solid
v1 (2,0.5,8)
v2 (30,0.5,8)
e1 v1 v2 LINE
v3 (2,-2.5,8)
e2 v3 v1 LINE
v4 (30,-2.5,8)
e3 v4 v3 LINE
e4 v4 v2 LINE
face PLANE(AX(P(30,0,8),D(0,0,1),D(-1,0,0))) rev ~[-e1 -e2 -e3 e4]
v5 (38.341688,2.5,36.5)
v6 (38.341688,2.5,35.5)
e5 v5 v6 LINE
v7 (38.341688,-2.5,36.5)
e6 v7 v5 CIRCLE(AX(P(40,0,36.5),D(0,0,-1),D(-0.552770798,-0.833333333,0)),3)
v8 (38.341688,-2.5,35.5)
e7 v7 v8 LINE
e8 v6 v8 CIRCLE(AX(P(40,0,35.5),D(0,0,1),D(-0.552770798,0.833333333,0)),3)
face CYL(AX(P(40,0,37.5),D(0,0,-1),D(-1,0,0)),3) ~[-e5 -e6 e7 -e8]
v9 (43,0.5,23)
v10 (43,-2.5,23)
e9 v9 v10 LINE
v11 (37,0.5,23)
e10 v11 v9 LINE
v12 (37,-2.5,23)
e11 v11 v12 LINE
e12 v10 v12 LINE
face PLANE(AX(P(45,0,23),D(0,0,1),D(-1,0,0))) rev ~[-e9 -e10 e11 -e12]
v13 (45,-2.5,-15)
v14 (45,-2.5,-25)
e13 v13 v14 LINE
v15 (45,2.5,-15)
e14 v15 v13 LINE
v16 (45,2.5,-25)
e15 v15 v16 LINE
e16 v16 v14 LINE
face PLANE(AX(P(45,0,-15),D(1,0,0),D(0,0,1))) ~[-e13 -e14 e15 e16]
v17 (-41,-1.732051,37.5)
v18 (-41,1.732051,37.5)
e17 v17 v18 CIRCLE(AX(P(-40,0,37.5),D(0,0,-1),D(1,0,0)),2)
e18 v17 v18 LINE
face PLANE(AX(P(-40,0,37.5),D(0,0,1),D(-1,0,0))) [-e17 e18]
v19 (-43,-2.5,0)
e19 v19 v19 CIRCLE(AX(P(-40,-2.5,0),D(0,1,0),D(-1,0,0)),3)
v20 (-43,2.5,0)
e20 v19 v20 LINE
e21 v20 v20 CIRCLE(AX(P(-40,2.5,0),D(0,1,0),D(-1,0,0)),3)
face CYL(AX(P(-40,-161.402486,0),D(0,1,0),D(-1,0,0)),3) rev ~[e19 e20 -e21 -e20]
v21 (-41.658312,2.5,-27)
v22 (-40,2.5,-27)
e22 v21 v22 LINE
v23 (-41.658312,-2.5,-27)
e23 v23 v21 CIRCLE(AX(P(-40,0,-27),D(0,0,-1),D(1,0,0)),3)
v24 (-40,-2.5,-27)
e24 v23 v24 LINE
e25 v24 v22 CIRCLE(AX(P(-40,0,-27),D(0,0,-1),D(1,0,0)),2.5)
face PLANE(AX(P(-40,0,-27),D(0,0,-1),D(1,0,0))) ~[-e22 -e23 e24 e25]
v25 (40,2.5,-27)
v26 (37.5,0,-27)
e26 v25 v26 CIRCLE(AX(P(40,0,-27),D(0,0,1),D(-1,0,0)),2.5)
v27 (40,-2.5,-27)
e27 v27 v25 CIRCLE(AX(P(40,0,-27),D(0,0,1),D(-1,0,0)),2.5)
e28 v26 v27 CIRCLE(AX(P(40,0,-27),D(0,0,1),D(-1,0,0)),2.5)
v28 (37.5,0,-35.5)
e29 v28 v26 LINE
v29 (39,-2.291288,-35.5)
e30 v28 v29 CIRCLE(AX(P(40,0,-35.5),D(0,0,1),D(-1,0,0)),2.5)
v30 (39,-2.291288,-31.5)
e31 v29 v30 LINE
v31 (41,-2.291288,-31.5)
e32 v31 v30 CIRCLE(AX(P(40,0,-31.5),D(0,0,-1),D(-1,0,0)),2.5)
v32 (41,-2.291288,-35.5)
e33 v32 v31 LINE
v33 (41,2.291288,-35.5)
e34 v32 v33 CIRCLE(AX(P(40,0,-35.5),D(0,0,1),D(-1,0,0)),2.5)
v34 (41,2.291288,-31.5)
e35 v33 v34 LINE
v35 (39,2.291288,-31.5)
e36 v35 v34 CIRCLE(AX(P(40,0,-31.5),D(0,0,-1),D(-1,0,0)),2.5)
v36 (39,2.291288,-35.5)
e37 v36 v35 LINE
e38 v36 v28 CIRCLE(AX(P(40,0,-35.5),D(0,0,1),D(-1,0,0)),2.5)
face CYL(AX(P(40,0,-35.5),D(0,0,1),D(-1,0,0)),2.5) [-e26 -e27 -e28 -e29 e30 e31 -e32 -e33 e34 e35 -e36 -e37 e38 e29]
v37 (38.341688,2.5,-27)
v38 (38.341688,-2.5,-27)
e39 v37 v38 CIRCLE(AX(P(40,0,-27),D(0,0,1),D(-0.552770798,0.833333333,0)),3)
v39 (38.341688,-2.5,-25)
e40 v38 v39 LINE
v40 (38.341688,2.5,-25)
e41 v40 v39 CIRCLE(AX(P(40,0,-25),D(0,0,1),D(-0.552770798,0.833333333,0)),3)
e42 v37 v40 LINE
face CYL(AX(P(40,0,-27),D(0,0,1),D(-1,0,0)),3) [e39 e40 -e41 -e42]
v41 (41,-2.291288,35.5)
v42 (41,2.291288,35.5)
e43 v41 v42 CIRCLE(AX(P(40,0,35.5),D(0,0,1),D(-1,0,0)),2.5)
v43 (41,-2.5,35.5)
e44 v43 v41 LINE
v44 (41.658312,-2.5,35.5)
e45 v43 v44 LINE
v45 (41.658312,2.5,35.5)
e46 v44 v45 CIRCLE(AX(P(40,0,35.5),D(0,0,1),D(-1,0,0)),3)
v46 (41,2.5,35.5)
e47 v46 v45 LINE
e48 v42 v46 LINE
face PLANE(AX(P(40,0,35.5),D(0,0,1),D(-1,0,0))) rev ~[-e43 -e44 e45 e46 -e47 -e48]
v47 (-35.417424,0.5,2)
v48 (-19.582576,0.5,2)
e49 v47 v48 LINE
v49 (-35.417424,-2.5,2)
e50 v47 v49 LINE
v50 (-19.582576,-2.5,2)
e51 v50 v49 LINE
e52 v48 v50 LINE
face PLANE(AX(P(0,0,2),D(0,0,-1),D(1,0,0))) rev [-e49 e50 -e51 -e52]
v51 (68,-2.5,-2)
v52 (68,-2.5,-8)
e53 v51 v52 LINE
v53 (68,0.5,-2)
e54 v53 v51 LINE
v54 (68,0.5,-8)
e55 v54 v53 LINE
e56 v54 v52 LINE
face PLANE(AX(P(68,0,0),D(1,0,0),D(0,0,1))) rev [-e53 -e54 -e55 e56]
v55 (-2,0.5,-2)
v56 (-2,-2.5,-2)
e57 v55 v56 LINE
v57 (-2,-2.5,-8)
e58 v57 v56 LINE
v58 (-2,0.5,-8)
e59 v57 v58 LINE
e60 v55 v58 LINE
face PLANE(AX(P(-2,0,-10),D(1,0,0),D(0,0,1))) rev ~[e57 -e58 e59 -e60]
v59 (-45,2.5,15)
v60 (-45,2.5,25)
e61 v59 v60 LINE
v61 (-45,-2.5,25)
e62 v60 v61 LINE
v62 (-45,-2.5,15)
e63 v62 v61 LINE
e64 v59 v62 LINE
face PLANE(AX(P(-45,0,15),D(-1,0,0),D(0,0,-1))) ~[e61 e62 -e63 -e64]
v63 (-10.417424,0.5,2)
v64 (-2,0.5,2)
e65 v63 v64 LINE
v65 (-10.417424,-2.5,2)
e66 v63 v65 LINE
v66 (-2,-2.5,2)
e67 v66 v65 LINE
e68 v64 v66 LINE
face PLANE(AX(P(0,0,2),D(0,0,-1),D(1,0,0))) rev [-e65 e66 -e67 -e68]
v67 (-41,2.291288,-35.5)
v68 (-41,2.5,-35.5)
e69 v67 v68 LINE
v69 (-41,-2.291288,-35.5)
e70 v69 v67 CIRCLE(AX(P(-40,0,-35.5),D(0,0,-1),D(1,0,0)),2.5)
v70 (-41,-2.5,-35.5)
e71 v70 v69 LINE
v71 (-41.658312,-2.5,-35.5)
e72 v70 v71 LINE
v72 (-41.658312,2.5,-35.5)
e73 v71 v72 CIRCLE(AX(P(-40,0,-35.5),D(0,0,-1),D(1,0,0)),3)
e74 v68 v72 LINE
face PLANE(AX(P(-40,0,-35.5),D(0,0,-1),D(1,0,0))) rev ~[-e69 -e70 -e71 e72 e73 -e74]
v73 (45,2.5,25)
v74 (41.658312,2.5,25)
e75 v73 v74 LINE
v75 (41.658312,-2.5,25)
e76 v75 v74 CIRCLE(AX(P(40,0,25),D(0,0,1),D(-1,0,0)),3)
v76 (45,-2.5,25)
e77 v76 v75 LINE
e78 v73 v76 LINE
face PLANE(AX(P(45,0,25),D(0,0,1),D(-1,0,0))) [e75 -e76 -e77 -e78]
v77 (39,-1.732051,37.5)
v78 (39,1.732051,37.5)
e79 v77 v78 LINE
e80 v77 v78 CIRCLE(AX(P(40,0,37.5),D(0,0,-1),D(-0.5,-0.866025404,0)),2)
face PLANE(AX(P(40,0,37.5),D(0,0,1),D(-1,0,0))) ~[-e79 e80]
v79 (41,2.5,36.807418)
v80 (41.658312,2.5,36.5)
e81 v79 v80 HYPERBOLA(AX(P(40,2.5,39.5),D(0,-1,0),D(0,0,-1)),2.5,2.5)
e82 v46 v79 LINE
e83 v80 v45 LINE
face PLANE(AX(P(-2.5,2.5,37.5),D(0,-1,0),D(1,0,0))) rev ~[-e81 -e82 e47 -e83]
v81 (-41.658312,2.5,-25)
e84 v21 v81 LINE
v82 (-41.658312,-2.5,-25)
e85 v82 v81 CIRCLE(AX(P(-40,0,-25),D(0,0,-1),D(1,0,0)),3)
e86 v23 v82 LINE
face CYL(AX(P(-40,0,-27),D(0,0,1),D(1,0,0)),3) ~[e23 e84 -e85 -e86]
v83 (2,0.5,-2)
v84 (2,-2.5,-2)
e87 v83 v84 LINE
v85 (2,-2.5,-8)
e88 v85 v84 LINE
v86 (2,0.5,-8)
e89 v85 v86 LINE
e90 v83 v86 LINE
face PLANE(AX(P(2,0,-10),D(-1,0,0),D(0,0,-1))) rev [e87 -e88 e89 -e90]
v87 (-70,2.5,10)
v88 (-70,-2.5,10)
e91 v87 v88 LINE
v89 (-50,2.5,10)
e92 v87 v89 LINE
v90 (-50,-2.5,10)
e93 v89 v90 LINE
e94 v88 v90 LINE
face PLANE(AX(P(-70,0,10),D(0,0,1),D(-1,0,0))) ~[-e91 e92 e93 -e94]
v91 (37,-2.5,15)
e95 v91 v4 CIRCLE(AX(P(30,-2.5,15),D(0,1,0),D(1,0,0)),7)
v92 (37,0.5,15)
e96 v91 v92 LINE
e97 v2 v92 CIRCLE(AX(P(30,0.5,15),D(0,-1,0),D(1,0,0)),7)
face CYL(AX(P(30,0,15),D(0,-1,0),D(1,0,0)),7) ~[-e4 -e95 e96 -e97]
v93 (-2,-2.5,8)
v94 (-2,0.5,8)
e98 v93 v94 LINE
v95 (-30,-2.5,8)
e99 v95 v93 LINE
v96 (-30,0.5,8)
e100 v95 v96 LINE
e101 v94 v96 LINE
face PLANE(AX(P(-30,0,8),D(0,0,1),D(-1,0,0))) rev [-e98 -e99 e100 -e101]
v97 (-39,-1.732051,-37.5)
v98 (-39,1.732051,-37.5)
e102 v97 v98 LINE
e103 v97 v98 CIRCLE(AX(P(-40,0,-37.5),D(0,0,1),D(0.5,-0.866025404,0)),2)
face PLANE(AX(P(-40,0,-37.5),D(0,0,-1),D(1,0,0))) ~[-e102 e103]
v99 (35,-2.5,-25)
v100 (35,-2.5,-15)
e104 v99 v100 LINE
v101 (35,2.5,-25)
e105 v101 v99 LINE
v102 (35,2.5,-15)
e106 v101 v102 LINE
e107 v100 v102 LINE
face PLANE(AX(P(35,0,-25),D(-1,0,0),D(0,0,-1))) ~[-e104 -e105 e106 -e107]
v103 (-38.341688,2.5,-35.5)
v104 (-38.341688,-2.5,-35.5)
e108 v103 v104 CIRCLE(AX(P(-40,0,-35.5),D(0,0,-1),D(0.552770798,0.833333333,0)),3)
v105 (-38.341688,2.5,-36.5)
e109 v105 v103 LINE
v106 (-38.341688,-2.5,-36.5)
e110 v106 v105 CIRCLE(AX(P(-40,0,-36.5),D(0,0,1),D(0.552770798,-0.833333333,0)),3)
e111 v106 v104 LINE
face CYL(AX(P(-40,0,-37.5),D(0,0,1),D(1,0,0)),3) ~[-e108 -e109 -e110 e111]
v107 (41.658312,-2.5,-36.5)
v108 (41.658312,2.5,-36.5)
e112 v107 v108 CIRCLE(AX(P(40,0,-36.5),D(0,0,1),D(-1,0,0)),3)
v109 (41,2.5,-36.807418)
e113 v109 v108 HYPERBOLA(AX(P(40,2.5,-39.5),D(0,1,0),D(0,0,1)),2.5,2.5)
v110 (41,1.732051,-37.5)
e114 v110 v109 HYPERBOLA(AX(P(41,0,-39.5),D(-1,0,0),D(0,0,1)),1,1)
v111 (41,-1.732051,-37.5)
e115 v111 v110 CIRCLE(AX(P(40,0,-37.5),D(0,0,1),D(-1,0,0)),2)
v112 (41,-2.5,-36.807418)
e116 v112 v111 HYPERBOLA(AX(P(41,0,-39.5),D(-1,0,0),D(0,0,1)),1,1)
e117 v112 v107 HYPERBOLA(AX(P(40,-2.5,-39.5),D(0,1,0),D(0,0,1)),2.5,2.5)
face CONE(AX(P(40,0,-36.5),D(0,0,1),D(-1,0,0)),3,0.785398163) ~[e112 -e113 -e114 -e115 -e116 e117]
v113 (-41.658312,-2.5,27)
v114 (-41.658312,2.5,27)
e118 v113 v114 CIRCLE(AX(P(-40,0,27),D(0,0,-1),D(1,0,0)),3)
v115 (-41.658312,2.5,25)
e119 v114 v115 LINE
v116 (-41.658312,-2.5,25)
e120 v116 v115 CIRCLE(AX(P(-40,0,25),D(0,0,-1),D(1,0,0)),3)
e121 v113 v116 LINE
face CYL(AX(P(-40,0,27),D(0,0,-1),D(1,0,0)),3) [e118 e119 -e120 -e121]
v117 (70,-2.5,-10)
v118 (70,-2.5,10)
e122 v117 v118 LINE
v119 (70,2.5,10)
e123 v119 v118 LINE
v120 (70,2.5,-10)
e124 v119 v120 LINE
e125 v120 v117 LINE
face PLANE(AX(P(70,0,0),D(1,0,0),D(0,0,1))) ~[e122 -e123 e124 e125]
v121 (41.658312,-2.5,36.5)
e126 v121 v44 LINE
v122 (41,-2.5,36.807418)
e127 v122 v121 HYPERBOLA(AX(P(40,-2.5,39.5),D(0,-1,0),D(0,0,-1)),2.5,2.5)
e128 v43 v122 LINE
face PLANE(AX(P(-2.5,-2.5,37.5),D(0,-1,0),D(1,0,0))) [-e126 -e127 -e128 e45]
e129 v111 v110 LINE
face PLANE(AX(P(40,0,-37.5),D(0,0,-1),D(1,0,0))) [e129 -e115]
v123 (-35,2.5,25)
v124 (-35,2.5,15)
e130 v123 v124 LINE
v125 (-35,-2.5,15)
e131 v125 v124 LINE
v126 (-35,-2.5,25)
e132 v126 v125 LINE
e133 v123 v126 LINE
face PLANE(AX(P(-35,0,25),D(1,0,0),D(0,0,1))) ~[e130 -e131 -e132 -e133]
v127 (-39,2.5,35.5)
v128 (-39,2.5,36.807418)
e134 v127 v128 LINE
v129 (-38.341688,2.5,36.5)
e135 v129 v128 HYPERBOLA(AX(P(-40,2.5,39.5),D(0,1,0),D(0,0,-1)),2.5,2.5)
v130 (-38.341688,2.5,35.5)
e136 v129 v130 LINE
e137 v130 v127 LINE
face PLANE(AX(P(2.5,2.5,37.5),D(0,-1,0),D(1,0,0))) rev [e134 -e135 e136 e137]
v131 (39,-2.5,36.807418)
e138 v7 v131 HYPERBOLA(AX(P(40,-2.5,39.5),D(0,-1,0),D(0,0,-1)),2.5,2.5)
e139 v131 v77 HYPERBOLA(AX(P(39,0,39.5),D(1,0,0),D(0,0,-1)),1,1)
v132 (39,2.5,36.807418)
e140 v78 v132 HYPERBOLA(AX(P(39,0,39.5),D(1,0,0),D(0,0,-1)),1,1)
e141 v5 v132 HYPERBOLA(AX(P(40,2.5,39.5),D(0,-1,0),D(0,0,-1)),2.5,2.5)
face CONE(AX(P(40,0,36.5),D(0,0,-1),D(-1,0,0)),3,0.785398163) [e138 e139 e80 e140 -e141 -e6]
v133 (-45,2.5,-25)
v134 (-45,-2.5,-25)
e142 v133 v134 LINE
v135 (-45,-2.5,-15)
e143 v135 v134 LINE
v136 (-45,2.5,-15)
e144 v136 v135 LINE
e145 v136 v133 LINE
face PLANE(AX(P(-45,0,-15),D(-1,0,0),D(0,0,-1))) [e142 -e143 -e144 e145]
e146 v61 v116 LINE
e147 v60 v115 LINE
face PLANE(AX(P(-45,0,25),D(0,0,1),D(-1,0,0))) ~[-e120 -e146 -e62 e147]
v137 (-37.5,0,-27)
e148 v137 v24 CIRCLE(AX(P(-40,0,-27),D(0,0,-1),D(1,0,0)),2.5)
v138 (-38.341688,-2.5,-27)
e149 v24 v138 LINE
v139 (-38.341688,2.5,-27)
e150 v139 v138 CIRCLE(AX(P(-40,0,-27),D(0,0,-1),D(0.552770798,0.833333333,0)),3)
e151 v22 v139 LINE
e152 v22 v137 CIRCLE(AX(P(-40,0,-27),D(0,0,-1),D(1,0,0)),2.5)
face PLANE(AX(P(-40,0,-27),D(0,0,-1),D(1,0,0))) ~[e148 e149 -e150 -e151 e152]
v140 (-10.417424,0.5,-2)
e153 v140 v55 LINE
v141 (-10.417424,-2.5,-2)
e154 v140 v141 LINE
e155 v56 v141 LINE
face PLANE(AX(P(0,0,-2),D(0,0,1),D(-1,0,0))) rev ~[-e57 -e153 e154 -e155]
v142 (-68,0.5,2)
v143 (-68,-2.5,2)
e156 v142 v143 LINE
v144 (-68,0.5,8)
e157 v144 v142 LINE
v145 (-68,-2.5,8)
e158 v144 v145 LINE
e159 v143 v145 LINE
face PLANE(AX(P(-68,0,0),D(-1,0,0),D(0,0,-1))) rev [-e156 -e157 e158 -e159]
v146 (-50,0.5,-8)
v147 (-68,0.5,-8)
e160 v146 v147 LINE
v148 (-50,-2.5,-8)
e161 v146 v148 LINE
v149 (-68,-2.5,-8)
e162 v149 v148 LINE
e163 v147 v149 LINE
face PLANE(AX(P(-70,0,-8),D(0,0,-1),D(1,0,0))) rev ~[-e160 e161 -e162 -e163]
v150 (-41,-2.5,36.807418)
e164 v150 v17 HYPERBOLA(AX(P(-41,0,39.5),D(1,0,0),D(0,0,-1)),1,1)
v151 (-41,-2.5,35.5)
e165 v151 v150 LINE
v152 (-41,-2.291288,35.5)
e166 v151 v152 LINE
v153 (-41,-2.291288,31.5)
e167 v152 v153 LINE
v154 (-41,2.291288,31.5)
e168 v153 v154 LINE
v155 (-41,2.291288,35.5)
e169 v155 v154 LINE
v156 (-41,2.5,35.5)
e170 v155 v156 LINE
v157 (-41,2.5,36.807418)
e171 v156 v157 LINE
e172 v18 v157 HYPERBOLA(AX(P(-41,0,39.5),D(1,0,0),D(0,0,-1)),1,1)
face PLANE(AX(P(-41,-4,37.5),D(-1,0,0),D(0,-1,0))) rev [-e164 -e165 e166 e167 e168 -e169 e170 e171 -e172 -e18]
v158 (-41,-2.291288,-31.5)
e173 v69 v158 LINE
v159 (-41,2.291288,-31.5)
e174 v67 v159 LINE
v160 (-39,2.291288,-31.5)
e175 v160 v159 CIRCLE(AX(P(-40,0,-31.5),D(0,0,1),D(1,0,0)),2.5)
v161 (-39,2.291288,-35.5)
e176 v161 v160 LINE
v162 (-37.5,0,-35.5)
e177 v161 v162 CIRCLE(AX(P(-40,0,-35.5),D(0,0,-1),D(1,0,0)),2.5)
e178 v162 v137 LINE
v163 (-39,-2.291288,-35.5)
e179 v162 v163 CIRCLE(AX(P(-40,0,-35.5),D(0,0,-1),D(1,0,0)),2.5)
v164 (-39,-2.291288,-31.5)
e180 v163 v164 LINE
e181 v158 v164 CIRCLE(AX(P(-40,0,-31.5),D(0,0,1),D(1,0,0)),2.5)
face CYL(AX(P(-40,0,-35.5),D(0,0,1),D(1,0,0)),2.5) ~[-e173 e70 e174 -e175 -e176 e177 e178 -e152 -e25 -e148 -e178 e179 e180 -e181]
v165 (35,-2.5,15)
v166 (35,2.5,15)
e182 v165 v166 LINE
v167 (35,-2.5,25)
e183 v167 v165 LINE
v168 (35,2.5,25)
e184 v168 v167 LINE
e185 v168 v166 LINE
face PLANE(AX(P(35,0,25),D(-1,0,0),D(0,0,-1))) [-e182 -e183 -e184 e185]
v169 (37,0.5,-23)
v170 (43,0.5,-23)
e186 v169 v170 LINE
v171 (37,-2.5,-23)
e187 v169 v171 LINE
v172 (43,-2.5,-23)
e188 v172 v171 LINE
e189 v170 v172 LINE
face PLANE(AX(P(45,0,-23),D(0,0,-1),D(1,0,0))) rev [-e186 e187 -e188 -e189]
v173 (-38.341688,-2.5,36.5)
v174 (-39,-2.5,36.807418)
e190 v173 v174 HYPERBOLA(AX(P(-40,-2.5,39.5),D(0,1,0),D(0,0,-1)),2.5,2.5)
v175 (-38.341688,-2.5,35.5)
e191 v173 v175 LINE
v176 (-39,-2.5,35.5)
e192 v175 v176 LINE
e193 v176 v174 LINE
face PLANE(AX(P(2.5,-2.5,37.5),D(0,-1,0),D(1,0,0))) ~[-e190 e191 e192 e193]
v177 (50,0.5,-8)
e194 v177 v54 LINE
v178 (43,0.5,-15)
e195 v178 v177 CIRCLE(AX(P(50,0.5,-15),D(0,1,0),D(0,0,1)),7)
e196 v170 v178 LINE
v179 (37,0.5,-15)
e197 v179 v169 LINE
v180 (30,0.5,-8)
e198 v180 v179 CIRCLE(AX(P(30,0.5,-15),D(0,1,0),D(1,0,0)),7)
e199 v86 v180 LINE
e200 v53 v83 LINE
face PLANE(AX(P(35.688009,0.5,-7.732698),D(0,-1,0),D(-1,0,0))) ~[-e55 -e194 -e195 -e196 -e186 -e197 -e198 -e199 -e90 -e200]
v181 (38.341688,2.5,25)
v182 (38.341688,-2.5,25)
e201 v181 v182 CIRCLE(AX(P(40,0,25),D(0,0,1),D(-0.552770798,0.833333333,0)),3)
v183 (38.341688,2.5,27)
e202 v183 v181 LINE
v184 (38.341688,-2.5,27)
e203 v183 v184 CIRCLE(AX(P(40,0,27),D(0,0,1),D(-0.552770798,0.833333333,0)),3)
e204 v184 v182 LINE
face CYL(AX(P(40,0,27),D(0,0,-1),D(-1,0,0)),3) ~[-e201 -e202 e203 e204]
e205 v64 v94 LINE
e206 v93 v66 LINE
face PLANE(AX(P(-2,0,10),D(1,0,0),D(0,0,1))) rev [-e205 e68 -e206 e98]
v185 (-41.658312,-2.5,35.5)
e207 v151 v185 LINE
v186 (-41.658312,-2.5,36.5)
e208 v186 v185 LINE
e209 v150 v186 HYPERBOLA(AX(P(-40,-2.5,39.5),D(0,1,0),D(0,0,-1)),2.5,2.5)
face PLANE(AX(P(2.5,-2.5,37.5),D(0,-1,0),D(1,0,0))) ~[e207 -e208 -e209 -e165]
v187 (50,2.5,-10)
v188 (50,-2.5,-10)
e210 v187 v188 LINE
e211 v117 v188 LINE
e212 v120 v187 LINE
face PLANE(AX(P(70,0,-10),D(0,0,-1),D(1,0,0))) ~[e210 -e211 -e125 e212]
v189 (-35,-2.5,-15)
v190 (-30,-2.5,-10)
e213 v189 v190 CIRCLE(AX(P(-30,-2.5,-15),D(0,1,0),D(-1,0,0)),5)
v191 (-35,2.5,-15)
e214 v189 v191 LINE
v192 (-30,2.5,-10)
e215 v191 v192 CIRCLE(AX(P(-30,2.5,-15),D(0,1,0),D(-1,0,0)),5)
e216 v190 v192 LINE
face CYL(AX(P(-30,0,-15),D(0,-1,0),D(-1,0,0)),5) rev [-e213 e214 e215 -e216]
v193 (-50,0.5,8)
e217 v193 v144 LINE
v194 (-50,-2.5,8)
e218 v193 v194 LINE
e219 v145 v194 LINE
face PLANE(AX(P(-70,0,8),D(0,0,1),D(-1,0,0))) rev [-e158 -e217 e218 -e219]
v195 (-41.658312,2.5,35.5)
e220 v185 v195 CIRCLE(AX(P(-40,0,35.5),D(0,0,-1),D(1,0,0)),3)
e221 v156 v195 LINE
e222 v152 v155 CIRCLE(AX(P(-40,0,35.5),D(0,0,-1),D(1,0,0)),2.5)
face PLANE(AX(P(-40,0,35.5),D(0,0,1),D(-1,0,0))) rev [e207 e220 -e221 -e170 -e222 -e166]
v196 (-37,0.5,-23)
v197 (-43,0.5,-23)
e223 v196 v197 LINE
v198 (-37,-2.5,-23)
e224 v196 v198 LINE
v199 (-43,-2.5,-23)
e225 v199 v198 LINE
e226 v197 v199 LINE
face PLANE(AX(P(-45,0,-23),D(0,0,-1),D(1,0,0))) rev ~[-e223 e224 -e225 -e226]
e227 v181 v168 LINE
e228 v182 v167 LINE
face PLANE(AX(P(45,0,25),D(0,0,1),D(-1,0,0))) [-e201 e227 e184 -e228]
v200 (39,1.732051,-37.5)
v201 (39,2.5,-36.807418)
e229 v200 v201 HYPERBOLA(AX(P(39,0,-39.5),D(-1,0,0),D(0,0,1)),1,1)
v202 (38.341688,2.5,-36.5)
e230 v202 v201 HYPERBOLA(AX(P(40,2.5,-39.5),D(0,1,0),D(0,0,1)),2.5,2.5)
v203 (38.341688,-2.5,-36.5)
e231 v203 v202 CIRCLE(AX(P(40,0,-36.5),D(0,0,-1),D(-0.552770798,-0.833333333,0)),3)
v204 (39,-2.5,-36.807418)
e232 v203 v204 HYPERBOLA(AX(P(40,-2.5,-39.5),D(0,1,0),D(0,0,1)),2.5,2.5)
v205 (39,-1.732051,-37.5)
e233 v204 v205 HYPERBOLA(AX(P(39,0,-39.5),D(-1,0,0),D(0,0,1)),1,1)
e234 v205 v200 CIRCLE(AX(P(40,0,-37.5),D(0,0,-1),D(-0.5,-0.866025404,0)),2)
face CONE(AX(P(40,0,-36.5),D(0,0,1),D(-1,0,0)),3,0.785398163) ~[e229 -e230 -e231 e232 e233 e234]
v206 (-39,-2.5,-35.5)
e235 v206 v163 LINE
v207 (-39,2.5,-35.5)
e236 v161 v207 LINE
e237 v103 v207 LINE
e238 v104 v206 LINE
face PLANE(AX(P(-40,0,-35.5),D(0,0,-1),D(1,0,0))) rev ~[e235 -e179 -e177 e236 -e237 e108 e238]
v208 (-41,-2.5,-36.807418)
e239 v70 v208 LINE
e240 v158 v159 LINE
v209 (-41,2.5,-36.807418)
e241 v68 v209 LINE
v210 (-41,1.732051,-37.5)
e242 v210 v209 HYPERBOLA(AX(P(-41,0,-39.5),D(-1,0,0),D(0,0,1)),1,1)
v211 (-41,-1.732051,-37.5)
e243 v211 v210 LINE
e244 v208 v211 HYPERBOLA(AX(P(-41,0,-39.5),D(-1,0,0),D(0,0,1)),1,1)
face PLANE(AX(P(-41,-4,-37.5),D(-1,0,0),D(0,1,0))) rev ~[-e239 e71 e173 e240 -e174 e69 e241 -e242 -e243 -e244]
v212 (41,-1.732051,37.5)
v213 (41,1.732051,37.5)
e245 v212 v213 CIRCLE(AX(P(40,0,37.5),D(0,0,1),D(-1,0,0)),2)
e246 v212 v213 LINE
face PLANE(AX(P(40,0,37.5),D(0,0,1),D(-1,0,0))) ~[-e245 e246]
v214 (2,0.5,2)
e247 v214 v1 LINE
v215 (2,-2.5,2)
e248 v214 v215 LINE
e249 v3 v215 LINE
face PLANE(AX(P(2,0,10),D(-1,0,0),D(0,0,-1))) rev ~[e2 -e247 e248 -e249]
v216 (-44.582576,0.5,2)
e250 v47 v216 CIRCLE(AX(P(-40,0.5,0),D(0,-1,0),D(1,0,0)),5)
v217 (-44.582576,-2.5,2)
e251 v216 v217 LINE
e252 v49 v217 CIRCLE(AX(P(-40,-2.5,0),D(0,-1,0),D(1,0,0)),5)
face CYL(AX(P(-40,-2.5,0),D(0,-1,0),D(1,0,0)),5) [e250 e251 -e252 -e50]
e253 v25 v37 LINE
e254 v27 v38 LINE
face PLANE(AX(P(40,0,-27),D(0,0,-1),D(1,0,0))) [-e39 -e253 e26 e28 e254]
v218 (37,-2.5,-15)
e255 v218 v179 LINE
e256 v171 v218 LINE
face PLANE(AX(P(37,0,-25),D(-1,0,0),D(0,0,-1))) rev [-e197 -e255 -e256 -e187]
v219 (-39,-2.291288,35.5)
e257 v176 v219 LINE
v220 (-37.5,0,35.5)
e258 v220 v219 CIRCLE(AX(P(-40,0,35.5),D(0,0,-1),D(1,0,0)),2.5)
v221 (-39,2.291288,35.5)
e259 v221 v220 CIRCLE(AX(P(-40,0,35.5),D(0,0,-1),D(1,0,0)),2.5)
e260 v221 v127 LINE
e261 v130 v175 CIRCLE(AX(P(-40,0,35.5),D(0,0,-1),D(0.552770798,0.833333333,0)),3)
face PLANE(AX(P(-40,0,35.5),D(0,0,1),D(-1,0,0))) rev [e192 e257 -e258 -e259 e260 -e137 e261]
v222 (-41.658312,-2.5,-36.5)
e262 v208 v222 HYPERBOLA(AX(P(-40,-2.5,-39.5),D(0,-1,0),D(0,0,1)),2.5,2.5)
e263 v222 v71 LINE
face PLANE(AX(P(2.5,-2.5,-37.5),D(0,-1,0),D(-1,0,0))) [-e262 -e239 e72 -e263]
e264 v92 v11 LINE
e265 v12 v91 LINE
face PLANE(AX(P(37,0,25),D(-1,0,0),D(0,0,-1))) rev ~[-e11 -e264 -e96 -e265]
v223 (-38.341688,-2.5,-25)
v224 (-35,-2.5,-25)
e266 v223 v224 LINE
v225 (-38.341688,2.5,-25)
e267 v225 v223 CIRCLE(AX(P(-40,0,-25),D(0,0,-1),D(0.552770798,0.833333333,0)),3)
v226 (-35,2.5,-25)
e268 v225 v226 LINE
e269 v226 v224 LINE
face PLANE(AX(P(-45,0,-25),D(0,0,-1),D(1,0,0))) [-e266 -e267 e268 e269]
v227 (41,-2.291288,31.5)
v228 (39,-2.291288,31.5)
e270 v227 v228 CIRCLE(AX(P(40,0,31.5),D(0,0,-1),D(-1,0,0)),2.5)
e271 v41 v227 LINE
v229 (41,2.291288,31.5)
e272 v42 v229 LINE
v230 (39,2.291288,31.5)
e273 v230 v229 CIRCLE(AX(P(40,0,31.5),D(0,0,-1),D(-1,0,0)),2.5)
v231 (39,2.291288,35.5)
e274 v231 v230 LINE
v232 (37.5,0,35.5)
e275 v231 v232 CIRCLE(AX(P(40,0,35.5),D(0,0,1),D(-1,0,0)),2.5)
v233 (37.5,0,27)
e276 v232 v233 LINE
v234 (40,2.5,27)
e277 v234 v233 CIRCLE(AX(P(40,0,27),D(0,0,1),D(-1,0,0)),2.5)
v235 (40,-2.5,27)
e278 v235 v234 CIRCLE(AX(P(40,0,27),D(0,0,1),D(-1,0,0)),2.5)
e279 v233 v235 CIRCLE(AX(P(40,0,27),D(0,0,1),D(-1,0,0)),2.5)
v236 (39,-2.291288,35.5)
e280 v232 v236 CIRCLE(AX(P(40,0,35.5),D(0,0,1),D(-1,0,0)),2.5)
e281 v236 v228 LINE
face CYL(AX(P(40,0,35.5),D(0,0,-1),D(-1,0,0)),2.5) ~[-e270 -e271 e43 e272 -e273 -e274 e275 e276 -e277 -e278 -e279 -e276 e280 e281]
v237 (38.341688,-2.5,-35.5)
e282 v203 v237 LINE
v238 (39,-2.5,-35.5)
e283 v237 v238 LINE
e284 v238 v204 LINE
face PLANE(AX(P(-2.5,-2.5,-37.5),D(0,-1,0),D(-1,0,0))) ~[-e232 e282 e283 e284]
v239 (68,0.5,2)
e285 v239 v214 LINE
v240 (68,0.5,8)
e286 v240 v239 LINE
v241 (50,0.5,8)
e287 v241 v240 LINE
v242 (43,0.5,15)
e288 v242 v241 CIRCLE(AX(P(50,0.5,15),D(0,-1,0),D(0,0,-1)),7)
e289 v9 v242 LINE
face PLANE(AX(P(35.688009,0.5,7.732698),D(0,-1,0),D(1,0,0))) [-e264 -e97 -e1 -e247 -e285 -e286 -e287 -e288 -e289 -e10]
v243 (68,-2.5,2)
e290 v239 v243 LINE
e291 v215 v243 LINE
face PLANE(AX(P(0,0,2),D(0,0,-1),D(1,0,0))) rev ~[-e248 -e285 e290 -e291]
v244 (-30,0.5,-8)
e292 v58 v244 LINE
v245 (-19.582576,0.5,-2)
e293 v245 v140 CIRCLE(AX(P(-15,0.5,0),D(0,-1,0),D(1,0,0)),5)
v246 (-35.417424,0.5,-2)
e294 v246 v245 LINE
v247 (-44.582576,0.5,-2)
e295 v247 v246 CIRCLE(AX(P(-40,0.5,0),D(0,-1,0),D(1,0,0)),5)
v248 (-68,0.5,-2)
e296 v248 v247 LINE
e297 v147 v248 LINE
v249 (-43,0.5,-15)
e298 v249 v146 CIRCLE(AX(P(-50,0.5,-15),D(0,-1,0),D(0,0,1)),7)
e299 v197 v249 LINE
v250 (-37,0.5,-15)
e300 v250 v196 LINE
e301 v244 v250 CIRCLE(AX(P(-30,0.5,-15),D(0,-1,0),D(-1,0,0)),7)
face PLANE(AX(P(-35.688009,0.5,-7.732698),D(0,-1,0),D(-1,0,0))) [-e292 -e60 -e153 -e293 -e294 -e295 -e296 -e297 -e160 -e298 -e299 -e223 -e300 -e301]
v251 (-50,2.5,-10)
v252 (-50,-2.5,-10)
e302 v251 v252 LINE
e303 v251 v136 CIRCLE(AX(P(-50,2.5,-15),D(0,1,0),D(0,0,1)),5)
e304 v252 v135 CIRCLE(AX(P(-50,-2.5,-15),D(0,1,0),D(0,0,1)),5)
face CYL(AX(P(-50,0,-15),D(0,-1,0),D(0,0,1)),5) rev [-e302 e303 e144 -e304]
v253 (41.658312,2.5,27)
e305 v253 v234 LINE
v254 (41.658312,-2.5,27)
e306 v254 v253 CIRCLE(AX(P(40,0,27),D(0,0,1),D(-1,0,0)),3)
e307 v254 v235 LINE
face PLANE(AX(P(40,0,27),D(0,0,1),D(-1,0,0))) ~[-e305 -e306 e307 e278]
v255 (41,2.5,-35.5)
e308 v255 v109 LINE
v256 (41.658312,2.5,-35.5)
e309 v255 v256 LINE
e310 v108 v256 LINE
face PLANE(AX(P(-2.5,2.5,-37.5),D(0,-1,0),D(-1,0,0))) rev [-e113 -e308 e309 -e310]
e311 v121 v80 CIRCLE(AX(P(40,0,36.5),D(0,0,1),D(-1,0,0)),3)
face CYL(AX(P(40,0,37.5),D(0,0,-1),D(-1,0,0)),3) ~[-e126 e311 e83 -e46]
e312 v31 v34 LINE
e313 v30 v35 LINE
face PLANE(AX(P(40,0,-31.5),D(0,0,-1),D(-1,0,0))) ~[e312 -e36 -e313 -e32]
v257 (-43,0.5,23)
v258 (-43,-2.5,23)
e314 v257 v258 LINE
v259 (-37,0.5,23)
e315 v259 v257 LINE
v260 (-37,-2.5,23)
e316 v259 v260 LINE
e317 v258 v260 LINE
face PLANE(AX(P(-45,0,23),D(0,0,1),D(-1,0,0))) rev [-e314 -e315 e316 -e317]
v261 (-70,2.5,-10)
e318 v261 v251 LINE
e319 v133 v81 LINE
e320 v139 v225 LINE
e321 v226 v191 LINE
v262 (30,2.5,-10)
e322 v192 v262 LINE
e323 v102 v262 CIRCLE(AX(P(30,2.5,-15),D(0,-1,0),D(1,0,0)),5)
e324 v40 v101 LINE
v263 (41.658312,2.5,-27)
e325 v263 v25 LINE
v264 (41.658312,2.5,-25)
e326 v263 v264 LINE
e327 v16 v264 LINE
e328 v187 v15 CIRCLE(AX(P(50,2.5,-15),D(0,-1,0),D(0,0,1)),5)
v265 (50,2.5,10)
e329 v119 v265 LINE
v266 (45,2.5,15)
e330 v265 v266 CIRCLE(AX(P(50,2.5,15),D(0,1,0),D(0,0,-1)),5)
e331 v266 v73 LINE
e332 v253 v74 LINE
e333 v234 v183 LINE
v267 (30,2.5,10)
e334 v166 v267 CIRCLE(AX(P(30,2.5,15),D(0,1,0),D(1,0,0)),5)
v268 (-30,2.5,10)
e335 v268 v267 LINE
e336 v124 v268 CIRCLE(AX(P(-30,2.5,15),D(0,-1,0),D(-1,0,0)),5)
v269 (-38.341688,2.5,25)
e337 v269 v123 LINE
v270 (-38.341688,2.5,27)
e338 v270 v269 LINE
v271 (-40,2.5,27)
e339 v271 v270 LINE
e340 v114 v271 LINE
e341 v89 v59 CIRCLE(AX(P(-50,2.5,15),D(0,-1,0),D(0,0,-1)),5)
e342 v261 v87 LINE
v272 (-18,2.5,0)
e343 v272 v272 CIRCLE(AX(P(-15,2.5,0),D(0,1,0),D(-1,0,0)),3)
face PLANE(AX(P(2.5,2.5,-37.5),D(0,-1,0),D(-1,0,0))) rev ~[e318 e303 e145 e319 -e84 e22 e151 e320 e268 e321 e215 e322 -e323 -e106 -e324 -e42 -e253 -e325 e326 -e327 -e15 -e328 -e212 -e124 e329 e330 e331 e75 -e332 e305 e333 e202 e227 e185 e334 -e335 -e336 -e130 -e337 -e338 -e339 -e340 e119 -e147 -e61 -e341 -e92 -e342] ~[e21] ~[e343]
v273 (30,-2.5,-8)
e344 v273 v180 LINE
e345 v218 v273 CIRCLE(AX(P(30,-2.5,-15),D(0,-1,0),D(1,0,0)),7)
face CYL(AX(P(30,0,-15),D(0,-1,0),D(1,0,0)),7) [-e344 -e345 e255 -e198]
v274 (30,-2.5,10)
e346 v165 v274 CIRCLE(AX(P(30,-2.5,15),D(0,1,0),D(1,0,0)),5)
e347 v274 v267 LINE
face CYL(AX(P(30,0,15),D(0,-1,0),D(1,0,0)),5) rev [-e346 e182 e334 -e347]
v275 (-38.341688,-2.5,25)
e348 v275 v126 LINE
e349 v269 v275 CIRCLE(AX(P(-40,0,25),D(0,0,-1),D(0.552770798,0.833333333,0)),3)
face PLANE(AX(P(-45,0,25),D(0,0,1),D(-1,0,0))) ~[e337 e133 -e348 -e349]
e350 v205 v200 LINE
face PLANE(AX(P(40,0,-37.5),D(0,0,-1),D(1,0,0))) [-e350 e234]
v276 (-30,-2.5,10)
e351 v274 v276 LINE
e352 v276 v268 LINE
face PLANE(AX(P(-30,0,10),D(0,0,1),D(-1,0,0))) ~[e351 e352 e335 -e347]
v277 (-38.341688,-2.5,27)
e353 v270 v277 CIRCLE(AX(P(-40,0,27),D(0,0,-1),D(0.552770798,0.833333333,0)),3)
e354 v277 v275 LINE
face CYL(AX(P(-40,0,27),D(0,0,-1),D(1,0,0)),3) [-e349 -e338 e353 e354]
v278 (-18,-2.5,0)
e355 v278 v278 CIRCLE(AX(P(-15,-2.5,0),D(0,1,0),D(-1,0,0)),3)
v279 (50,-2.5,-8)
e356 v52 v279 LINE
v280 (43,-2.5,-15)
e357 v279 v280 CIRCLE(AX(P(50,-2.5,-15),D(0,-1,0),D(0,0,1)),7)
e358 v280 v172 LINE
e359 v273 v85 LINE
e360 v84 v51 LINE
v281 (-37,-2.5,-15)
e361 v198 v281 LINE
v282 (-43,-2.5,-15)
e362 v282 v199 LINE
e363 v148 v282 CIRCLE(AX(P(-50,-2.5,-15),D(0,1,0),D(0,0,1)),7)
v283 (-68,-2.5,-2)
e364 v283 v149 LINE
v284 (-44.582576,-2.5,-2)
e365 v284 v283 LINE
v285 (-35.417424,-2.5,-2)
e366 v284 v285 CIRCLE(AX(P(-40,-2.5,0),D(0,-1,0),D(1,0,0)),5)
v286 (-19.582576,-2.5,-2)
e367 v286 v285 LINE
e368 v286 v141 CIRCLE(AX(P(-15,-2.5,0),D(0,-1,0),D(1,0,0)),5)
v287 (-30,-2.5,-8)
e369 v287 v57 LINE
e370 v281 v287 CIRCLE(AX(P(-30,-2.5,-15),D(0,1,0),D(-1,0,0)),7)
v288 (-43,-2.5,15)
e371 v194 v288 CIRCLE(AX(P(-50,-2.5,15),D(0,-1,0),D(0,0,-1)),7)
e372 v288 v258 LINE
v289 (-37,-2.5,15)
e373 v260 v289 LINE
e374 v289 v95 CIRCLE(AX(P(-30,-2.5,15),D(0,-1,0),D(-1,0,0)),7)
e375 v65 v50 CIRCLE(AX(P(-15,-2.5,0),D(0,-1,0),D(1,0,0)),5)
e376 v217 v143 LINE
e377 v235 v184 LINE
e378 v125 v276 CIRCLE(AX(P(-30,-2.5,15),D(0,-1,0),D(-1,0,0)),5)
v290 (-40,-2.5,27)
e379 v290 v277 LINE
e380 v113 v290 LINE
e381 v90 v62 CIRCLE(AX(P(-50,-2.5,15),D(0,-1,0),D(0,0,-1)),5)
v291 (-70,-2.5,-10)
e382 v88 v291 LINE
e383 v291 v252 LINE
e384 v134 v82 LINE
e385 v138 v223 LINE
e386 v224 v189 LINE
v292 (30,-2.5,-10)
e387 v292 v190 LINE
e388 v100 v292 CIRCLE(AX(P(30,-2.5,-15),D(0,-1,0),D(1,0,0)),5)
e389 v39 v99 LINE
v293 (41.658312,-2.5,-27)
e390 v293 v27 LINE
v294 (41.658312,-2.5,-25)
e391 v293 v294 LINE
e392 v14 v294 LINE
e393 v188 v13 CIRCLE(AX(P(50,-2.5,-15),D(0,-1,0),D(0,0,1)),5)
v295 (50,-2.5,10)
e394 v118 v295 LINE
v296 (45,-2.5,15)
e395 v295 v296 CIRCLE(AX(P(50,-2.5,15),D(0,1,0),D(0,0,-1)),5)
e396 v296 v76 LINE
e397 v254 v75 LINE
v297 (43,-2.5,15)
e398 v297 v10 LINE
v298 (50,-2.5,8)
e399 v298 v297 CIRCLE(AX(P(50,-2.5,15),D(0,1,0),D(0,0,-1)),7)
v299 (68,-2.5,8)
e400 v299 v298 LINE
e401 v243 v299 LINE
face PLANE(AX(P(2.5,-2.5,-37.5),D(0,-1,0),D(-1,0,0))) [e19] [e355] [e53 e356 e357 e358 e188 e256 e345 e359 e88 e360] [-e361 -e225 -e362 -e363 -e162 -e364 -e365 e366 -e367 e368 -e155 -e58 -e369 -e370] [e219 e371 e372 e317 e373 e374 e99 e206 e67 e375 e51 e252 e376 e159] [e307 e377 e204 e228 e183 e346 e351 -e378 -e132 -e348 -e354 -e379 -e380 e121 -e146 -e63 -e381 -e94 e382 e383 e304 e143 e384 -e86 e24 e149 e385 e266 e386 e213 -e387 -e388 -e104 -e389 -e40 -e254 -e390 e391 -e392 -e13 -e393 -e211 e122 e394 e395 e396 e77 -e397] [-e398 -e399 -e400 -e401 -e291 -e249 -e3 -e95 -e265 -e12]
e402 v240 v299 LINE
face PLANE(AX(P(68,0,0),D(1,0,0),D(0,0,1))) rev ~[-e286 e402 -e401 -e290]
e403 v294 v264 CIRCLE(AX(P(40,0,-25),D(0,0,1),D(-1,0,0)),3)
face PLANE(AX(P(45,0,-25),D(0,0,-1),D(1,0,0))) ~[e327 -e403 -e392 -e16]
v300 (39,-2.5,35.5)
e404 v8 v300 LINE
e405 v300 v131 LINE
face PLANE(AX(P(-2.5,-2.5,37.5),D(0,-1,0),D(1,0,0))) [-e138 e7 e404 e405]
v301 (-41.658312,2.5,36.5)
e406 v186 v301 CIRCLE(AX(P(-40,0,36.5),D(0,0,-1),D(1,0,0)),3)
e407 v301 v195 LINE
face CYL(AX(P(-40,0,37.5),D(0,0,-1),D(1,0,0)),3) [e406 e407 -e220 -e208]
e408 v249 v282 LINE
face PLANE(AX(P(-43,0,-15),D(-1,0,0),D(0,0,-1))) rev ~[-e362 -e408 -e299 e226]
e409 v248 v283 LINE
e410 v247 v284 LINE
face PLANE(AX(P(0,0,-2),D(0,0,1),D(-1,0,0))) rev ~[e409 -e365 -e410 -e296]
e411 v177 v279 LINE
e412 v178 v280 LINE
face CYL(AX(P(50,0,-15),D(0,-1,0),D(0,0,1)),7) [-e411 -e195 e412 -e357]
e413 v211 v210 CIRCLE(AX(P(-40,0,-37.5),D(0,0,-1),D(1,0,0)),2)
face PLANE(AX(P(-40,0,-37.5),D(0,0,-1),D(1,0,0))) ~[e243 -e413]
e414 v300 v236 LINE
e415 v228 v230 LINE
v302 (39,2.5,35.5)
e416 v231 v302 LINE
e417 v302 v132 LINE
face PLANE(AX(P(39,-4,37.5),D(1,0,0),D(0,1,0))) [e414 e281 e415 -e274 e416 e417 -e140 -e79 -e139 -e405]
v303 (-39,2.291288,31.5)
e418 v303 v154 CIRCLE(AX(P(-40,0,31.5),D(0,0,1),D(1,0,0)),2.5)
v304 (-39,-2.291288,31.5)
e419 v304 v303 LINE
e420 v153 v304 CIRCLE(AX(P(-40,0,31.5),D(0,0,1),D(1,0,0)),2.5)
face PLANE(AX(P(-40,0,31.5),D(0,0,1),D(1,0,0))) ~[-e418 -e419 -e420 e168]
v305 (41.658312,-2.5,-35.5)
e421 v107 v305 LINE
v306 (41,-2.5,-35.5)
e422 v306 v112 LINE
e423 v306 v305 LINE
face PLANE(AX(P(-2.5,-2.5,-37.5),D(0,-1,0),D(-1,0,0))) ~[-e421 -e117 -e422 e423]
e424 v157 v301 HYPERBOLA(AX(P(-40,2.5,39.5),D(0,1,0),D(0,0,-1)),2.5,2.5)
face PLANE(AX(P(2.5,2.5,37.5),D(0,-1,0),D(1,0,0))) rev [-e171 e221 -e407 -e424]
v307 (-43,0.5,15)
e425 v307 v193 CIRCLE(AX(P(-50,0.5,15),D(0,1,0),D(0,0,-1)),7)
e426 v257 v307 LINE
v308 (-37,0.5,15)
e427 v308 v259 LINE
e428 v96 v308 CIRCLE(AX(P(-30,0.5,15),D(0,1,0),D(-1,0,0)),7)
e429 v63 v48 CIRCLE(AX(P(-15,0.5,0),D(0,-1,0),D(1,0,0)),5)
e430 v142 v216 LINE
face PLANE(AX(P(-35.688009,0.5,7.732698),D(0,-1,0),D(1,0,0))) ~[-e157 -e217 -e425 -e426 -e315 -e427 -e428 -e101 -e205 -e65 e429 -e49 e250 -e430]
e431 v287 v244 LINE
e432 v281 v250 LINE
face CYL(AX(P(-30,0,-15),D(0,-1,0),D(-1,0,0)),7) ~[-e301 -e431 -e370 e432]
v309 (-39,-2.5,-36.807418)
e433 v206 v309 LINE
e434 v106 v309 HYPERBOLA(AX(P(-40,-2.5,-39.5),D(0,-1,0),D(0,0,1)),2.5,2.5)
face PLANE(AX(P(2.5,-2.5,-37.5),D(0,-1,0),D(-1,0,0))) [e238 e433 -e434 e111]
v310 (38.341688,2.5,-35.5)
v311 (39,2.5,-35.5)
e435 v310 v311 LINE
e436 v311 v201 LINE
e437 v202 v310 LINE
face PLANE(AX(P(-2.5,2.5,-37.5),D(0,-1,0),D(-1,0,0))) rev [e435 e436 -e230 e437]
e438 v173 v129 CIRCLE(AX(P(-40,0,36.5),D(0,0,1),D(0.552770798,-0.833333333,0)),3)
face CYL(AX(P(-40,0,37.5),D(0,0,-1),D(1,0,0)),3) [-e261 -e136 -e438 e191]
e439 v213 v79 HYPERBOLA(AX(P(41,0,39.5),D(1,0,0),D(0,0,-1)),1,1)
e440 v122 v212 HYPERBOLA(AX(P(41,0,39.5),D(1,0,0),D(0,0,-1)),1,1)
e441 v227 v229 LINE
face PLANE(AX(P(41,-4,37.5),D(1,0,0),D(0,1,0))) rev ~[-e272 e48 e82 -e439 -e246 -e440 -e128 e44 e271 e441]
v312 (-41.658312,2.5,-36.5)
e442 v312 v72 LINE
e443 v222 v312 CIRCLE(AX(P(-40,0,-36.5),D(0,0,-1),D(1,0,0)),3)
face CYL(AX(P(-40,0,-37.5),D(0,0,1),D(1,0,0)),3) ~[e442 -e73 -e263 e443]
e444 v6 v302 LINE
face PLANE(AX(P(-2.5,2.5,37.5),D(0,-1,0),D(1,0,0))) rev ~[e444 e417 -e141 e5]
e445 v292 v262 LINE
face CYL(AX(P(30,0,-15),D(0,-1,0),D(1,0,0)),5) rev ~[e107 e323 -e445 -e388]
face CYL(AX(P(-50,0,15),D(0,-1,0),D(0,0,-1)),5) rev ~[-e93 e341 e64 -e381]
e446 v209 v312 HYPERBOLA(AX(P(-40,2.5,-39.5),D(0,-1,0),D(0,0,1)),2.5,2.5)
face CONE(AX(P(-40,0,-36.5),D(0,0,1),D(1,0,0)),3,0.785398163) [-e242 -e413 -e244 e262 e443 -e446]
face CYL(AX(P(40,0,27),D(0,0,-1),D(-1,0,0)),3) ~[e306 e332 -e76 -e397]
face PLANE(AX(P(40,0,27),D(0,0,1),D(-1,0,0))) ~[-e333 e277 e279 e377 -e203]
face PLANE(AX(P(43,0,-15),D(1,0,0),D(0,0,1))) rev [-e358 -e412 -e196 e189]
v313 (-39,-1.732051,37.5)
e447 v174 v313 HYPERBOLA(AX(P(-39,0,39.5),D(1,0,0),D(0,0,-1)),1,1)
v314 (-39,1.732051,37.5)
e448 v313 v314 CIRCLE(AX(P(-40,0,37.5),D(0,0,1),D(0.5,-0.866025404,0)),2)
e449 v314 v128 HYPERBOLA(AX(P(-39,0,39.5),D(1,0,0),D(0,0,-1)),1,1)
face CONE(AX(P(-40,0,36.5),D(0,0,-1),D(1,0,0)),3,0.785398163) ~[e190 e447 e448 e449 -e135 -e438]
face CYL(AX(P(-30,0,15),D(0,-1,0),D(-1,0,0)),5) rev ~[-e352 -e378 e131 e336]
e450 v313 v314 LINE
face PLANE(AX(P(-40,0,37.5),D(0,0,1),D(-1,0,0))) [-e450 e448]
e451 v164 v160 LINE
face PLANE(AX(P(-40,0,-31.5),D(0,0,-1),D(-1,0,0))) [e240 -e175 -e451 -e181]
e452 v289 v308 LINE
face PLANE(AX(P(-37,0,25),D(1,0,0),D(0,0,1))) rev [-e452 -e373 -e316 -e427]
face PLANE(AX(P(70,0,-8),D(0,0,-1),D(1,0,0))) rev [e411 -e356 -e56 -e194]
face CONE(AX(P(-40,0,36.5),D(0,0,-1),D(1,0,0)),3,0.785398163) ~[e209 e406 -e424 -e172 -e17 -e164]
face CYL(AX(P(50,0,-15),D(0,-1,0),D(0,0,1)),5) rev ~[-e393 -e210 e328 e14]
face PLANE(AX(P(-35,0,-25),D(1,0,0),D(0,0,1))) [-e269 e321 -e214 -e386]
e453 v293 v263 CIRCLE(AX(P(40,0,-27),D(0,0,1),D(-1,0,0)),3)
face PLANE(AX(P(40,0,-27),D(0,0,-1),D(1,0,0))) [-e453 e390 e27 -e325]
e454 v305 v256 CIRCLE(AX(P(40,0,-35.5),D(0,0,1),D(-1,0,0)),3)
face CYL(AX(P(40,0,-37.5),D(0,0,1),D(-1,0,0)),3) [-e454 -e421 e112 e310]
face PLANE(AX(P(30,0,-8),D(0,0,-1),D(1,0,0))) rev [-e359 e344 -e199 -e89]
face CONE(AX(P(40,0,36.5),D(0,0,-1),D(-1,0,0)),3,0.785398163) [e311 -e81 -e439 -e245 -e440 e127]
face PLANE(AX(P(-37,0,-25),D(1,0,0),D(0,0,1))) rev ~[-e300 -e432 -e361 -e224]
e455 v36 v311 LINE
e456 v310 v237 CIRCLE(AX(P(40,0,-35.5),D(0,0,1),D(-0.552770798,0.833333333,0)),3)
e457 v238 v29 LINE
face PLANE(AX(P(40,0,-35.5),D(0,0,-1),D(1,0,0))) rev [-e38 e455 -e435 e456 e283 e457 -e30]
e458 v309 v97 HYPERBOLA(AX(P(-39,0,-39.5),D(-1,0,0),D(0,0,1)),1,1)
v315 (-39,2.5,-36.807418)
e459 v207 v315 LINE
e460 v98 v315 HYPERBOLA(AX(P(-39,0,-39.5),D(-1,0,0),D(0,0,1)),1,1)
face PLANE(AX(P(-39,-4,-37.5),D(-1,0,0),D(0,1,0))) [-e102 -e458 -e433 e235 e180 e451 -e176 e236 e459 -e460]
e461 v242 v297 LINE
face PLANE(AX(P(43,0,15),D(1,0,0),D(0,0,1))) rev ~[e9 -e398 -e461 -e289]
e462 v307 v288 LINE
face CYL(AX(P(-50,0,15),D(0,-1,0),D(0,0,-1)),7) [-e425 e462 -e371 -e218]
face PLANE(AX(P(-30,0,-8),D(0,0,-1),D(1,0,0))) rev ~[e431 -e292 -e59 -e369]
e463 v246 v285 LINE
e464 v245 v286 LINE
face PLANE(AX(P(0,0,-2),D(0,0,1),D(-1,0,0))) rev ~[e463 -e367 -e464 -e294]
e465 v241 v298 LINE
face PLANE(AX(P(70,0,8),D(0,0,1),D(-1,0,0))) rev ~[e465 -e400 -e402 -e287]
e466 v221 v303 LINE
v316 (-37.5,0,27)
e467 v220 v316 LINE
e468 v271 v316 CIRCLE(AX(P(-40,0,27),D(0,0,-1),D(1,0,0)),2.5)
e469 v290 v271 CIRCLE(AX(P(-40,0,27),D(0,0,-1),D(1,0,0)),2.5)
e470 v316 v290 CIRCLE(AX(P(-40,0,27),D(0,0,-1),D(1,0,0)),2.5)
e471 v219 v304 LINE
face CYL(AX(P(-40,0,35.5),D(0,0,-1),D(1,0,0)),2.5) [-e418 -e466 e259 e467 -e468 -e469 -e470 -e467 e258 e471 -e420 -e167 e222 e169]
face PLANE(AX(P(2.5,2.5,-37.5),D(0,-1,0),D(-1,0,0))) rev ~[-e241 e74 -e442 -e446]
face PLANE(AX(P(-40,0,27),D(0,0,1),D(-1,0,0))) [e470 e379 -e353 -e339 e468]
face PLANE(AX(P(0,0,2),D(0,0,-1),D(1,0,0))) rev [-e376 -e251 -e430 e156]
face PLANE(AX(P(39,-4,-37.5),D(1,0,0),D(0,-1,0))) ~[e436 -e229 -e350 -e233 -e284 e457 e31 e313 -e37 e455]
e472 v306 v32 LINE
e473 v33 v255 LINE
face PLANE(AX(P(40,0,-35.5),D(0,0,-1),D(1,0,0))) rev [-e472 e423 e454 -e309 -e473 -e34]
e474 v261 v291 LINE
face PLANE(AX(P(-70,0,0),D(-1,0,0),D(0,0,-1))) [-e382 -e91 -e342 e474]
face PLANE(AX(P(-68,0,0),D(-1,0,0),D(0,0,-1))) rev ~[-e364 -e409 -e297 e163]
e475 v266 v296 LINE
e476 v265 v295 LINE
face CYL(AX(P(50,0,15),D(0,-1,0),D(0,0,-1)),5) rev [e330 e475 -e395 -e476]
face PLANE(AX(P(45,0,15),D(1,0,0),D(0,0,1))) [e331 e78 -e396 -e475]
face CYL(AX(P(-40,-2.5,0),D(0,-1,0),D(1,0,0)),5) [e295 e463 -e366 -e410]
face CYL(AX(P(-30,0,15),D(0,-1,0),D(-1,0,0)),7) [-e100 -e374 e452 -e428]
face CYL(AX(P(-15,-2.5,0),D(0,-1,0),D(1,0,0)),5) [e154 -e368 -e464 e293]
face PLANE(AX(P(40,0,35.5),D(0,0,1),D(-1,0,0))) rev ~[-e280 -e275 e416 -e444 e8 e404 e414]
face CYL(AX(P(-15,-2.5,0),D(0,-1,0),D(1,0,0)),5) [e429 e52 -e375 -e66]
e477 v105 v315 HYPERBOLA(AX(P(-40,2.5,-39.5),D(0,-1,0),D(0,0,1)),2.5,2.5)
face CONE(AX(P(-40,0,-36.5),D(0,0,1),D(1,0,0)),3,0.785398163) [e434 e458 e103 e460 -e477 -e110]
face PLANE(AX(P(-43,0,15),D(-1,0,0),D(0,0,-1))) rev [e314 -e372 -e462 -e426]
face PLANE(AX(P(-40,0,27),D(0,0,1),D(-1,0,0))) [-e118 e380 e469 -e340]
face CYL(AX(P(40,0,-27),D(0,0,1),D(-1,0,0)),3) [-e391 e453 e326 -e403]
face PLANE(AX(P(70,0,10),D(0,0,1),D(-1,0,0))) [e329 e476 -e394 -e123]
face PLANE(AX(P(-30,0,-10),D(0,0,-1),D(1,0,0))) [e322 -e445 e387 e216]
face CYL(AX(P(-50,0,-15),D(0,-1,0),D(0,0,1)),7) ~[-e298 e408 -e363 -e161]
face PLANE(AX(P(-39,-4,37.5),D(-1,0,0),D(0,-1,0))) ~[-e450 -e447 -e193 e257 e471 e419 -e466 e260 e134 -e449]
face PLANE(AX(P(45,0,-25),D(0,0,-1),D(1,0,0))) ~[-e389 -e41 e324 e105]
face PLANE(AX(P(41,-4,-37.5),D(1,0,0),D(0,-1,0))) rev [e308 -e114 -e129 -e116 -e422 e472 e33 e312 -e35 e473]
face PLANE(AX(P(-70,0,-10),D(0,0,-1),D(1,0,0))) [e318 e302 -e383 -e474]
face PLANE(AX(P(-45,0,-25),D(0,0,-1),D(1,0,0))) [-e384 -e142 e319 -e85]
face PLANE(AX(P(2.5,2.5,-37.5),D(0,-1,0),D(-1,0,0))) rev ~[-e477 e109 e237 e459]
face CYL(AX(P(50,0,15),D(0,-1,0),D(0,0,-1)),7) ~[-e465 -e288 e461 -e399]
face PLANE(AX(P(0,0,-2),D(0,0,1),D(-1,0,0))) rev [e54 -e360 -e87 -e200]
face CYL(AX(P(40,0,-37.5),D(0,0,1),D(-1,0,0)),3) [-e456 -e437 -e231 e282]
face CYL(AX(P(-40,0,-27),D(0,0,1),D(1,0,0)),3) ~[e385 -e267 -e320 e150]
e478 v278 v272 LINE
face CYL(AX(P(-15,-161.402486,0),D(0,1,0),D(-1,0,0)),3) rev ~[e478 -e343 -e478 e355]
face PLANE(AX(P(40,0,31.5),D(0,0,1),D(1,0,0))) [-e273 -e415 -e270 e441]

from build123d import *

# Parameters (mm, degrees)
F1_DEPTH  = 2.5
F2_T      = -2
F5_SIZE   = 1
F6_W      = 75
F6_H      = 5
F7_DEPTH  = 37.501
F8_W      = 2
F8_H      = 8
F9_DEPTH  = 6
F12_R     = 5
F13_DEPTH = 5
F15_D     = 6


with BuildPart() as f1:
    # F0 (on Front) → F1 (new body, symmetric)
    with BuildSketch(Plane.XZ):
        with BuildLine():
            Line((0, 10), (0, 0))
            Line((0, 0), (70, 0))
            Line((70, 0), (70, 10))
            Line((70, 10), (50, 10))
            ThreePointArc((50, 10), (46.4644660941, 11.4644660941), (45, 15))
            Line((45, 15), (45, 25))
            Line((45, 25), (35, 25))
            Line((35, 25), (35, 15))
            ThreePointArc((35, 15), (33.5355339059, 11.4644660941), (30, 10))
            Line((30, 10), (0, 10))
        make_face()
    extrude(amount=F1_DEPTH, both=True)

    # F2
    f2_openings = [f1.faces().sort_by_distance(p)[0] for p in [
        (35.933685, -2.5, 7.254637),
    ]]
    offset(amount=F2_T, openings=f2_openings)

    # F3 (on Front) → F4 (revolve)
    with BuildSketch(Plane.XZ):
        Polygon((37, 25), (40, 25), (40, 37.5), (37, 37.5), (37, 35.5), (37.5, 35.5), (37.5, 27), (37, 27), align=None)
    revolve(axis=Axis((40, 0, 31.25), (0, 0, 1)))

    # F5
    f5_edges = [f1.edges().sort_by_distance(p)[0] for p in [
        (43, 0, 37.5),
    ]]
    chamfer(f5_edges, length=F5_SIZE)

    # F6 (on face) → F7 (intersect, through all)
    with BuildSketch(Plane.XY.offset(37.5)):
        with Locations((35, 0)):
            Rectangle(F6_W, F6_H)
    extrude(amount=-F7_DEPTH, mode=Mode.INTERSECT)

    # F8 (on face) → F9 (cut)
    with BuildSketch(Plane.XY.offset(37.5)):
        with Locations((40, 0)):
            Rectangle(F8_W, F8_H)
    extrude(amount=-F9_DEPTH, mode=Mode.SUBTRACT)

    # F10: F1 across plane


with BuildPart() as f1_1:
    add(f1.part)
    add(f1.part.mirror(Plane.YZ))

    # F11: F1 across plane


with BuildPart() as f1_2:
    add(f1_1.part)
    add(f1_1.part.mirror(Plane.XY))

    # F12 (on face) → F13 (join, through all)
    with BuildSketch(Plane.XZ.offset(2.5)):
        with Locations((-40, 0)):
            Circle(F12_R)
        with Locations((-15, 0)):
            Circle(F12_R)
    extrude(amount=-F13_DEPTH)

    # F15 (through all)
    with Locations(Plane.XZ.offset(2.5)):
        with Locations((-40, 0), (-15, 0)):
            Hole(F15_D / 2)


solid = f1_2.part
